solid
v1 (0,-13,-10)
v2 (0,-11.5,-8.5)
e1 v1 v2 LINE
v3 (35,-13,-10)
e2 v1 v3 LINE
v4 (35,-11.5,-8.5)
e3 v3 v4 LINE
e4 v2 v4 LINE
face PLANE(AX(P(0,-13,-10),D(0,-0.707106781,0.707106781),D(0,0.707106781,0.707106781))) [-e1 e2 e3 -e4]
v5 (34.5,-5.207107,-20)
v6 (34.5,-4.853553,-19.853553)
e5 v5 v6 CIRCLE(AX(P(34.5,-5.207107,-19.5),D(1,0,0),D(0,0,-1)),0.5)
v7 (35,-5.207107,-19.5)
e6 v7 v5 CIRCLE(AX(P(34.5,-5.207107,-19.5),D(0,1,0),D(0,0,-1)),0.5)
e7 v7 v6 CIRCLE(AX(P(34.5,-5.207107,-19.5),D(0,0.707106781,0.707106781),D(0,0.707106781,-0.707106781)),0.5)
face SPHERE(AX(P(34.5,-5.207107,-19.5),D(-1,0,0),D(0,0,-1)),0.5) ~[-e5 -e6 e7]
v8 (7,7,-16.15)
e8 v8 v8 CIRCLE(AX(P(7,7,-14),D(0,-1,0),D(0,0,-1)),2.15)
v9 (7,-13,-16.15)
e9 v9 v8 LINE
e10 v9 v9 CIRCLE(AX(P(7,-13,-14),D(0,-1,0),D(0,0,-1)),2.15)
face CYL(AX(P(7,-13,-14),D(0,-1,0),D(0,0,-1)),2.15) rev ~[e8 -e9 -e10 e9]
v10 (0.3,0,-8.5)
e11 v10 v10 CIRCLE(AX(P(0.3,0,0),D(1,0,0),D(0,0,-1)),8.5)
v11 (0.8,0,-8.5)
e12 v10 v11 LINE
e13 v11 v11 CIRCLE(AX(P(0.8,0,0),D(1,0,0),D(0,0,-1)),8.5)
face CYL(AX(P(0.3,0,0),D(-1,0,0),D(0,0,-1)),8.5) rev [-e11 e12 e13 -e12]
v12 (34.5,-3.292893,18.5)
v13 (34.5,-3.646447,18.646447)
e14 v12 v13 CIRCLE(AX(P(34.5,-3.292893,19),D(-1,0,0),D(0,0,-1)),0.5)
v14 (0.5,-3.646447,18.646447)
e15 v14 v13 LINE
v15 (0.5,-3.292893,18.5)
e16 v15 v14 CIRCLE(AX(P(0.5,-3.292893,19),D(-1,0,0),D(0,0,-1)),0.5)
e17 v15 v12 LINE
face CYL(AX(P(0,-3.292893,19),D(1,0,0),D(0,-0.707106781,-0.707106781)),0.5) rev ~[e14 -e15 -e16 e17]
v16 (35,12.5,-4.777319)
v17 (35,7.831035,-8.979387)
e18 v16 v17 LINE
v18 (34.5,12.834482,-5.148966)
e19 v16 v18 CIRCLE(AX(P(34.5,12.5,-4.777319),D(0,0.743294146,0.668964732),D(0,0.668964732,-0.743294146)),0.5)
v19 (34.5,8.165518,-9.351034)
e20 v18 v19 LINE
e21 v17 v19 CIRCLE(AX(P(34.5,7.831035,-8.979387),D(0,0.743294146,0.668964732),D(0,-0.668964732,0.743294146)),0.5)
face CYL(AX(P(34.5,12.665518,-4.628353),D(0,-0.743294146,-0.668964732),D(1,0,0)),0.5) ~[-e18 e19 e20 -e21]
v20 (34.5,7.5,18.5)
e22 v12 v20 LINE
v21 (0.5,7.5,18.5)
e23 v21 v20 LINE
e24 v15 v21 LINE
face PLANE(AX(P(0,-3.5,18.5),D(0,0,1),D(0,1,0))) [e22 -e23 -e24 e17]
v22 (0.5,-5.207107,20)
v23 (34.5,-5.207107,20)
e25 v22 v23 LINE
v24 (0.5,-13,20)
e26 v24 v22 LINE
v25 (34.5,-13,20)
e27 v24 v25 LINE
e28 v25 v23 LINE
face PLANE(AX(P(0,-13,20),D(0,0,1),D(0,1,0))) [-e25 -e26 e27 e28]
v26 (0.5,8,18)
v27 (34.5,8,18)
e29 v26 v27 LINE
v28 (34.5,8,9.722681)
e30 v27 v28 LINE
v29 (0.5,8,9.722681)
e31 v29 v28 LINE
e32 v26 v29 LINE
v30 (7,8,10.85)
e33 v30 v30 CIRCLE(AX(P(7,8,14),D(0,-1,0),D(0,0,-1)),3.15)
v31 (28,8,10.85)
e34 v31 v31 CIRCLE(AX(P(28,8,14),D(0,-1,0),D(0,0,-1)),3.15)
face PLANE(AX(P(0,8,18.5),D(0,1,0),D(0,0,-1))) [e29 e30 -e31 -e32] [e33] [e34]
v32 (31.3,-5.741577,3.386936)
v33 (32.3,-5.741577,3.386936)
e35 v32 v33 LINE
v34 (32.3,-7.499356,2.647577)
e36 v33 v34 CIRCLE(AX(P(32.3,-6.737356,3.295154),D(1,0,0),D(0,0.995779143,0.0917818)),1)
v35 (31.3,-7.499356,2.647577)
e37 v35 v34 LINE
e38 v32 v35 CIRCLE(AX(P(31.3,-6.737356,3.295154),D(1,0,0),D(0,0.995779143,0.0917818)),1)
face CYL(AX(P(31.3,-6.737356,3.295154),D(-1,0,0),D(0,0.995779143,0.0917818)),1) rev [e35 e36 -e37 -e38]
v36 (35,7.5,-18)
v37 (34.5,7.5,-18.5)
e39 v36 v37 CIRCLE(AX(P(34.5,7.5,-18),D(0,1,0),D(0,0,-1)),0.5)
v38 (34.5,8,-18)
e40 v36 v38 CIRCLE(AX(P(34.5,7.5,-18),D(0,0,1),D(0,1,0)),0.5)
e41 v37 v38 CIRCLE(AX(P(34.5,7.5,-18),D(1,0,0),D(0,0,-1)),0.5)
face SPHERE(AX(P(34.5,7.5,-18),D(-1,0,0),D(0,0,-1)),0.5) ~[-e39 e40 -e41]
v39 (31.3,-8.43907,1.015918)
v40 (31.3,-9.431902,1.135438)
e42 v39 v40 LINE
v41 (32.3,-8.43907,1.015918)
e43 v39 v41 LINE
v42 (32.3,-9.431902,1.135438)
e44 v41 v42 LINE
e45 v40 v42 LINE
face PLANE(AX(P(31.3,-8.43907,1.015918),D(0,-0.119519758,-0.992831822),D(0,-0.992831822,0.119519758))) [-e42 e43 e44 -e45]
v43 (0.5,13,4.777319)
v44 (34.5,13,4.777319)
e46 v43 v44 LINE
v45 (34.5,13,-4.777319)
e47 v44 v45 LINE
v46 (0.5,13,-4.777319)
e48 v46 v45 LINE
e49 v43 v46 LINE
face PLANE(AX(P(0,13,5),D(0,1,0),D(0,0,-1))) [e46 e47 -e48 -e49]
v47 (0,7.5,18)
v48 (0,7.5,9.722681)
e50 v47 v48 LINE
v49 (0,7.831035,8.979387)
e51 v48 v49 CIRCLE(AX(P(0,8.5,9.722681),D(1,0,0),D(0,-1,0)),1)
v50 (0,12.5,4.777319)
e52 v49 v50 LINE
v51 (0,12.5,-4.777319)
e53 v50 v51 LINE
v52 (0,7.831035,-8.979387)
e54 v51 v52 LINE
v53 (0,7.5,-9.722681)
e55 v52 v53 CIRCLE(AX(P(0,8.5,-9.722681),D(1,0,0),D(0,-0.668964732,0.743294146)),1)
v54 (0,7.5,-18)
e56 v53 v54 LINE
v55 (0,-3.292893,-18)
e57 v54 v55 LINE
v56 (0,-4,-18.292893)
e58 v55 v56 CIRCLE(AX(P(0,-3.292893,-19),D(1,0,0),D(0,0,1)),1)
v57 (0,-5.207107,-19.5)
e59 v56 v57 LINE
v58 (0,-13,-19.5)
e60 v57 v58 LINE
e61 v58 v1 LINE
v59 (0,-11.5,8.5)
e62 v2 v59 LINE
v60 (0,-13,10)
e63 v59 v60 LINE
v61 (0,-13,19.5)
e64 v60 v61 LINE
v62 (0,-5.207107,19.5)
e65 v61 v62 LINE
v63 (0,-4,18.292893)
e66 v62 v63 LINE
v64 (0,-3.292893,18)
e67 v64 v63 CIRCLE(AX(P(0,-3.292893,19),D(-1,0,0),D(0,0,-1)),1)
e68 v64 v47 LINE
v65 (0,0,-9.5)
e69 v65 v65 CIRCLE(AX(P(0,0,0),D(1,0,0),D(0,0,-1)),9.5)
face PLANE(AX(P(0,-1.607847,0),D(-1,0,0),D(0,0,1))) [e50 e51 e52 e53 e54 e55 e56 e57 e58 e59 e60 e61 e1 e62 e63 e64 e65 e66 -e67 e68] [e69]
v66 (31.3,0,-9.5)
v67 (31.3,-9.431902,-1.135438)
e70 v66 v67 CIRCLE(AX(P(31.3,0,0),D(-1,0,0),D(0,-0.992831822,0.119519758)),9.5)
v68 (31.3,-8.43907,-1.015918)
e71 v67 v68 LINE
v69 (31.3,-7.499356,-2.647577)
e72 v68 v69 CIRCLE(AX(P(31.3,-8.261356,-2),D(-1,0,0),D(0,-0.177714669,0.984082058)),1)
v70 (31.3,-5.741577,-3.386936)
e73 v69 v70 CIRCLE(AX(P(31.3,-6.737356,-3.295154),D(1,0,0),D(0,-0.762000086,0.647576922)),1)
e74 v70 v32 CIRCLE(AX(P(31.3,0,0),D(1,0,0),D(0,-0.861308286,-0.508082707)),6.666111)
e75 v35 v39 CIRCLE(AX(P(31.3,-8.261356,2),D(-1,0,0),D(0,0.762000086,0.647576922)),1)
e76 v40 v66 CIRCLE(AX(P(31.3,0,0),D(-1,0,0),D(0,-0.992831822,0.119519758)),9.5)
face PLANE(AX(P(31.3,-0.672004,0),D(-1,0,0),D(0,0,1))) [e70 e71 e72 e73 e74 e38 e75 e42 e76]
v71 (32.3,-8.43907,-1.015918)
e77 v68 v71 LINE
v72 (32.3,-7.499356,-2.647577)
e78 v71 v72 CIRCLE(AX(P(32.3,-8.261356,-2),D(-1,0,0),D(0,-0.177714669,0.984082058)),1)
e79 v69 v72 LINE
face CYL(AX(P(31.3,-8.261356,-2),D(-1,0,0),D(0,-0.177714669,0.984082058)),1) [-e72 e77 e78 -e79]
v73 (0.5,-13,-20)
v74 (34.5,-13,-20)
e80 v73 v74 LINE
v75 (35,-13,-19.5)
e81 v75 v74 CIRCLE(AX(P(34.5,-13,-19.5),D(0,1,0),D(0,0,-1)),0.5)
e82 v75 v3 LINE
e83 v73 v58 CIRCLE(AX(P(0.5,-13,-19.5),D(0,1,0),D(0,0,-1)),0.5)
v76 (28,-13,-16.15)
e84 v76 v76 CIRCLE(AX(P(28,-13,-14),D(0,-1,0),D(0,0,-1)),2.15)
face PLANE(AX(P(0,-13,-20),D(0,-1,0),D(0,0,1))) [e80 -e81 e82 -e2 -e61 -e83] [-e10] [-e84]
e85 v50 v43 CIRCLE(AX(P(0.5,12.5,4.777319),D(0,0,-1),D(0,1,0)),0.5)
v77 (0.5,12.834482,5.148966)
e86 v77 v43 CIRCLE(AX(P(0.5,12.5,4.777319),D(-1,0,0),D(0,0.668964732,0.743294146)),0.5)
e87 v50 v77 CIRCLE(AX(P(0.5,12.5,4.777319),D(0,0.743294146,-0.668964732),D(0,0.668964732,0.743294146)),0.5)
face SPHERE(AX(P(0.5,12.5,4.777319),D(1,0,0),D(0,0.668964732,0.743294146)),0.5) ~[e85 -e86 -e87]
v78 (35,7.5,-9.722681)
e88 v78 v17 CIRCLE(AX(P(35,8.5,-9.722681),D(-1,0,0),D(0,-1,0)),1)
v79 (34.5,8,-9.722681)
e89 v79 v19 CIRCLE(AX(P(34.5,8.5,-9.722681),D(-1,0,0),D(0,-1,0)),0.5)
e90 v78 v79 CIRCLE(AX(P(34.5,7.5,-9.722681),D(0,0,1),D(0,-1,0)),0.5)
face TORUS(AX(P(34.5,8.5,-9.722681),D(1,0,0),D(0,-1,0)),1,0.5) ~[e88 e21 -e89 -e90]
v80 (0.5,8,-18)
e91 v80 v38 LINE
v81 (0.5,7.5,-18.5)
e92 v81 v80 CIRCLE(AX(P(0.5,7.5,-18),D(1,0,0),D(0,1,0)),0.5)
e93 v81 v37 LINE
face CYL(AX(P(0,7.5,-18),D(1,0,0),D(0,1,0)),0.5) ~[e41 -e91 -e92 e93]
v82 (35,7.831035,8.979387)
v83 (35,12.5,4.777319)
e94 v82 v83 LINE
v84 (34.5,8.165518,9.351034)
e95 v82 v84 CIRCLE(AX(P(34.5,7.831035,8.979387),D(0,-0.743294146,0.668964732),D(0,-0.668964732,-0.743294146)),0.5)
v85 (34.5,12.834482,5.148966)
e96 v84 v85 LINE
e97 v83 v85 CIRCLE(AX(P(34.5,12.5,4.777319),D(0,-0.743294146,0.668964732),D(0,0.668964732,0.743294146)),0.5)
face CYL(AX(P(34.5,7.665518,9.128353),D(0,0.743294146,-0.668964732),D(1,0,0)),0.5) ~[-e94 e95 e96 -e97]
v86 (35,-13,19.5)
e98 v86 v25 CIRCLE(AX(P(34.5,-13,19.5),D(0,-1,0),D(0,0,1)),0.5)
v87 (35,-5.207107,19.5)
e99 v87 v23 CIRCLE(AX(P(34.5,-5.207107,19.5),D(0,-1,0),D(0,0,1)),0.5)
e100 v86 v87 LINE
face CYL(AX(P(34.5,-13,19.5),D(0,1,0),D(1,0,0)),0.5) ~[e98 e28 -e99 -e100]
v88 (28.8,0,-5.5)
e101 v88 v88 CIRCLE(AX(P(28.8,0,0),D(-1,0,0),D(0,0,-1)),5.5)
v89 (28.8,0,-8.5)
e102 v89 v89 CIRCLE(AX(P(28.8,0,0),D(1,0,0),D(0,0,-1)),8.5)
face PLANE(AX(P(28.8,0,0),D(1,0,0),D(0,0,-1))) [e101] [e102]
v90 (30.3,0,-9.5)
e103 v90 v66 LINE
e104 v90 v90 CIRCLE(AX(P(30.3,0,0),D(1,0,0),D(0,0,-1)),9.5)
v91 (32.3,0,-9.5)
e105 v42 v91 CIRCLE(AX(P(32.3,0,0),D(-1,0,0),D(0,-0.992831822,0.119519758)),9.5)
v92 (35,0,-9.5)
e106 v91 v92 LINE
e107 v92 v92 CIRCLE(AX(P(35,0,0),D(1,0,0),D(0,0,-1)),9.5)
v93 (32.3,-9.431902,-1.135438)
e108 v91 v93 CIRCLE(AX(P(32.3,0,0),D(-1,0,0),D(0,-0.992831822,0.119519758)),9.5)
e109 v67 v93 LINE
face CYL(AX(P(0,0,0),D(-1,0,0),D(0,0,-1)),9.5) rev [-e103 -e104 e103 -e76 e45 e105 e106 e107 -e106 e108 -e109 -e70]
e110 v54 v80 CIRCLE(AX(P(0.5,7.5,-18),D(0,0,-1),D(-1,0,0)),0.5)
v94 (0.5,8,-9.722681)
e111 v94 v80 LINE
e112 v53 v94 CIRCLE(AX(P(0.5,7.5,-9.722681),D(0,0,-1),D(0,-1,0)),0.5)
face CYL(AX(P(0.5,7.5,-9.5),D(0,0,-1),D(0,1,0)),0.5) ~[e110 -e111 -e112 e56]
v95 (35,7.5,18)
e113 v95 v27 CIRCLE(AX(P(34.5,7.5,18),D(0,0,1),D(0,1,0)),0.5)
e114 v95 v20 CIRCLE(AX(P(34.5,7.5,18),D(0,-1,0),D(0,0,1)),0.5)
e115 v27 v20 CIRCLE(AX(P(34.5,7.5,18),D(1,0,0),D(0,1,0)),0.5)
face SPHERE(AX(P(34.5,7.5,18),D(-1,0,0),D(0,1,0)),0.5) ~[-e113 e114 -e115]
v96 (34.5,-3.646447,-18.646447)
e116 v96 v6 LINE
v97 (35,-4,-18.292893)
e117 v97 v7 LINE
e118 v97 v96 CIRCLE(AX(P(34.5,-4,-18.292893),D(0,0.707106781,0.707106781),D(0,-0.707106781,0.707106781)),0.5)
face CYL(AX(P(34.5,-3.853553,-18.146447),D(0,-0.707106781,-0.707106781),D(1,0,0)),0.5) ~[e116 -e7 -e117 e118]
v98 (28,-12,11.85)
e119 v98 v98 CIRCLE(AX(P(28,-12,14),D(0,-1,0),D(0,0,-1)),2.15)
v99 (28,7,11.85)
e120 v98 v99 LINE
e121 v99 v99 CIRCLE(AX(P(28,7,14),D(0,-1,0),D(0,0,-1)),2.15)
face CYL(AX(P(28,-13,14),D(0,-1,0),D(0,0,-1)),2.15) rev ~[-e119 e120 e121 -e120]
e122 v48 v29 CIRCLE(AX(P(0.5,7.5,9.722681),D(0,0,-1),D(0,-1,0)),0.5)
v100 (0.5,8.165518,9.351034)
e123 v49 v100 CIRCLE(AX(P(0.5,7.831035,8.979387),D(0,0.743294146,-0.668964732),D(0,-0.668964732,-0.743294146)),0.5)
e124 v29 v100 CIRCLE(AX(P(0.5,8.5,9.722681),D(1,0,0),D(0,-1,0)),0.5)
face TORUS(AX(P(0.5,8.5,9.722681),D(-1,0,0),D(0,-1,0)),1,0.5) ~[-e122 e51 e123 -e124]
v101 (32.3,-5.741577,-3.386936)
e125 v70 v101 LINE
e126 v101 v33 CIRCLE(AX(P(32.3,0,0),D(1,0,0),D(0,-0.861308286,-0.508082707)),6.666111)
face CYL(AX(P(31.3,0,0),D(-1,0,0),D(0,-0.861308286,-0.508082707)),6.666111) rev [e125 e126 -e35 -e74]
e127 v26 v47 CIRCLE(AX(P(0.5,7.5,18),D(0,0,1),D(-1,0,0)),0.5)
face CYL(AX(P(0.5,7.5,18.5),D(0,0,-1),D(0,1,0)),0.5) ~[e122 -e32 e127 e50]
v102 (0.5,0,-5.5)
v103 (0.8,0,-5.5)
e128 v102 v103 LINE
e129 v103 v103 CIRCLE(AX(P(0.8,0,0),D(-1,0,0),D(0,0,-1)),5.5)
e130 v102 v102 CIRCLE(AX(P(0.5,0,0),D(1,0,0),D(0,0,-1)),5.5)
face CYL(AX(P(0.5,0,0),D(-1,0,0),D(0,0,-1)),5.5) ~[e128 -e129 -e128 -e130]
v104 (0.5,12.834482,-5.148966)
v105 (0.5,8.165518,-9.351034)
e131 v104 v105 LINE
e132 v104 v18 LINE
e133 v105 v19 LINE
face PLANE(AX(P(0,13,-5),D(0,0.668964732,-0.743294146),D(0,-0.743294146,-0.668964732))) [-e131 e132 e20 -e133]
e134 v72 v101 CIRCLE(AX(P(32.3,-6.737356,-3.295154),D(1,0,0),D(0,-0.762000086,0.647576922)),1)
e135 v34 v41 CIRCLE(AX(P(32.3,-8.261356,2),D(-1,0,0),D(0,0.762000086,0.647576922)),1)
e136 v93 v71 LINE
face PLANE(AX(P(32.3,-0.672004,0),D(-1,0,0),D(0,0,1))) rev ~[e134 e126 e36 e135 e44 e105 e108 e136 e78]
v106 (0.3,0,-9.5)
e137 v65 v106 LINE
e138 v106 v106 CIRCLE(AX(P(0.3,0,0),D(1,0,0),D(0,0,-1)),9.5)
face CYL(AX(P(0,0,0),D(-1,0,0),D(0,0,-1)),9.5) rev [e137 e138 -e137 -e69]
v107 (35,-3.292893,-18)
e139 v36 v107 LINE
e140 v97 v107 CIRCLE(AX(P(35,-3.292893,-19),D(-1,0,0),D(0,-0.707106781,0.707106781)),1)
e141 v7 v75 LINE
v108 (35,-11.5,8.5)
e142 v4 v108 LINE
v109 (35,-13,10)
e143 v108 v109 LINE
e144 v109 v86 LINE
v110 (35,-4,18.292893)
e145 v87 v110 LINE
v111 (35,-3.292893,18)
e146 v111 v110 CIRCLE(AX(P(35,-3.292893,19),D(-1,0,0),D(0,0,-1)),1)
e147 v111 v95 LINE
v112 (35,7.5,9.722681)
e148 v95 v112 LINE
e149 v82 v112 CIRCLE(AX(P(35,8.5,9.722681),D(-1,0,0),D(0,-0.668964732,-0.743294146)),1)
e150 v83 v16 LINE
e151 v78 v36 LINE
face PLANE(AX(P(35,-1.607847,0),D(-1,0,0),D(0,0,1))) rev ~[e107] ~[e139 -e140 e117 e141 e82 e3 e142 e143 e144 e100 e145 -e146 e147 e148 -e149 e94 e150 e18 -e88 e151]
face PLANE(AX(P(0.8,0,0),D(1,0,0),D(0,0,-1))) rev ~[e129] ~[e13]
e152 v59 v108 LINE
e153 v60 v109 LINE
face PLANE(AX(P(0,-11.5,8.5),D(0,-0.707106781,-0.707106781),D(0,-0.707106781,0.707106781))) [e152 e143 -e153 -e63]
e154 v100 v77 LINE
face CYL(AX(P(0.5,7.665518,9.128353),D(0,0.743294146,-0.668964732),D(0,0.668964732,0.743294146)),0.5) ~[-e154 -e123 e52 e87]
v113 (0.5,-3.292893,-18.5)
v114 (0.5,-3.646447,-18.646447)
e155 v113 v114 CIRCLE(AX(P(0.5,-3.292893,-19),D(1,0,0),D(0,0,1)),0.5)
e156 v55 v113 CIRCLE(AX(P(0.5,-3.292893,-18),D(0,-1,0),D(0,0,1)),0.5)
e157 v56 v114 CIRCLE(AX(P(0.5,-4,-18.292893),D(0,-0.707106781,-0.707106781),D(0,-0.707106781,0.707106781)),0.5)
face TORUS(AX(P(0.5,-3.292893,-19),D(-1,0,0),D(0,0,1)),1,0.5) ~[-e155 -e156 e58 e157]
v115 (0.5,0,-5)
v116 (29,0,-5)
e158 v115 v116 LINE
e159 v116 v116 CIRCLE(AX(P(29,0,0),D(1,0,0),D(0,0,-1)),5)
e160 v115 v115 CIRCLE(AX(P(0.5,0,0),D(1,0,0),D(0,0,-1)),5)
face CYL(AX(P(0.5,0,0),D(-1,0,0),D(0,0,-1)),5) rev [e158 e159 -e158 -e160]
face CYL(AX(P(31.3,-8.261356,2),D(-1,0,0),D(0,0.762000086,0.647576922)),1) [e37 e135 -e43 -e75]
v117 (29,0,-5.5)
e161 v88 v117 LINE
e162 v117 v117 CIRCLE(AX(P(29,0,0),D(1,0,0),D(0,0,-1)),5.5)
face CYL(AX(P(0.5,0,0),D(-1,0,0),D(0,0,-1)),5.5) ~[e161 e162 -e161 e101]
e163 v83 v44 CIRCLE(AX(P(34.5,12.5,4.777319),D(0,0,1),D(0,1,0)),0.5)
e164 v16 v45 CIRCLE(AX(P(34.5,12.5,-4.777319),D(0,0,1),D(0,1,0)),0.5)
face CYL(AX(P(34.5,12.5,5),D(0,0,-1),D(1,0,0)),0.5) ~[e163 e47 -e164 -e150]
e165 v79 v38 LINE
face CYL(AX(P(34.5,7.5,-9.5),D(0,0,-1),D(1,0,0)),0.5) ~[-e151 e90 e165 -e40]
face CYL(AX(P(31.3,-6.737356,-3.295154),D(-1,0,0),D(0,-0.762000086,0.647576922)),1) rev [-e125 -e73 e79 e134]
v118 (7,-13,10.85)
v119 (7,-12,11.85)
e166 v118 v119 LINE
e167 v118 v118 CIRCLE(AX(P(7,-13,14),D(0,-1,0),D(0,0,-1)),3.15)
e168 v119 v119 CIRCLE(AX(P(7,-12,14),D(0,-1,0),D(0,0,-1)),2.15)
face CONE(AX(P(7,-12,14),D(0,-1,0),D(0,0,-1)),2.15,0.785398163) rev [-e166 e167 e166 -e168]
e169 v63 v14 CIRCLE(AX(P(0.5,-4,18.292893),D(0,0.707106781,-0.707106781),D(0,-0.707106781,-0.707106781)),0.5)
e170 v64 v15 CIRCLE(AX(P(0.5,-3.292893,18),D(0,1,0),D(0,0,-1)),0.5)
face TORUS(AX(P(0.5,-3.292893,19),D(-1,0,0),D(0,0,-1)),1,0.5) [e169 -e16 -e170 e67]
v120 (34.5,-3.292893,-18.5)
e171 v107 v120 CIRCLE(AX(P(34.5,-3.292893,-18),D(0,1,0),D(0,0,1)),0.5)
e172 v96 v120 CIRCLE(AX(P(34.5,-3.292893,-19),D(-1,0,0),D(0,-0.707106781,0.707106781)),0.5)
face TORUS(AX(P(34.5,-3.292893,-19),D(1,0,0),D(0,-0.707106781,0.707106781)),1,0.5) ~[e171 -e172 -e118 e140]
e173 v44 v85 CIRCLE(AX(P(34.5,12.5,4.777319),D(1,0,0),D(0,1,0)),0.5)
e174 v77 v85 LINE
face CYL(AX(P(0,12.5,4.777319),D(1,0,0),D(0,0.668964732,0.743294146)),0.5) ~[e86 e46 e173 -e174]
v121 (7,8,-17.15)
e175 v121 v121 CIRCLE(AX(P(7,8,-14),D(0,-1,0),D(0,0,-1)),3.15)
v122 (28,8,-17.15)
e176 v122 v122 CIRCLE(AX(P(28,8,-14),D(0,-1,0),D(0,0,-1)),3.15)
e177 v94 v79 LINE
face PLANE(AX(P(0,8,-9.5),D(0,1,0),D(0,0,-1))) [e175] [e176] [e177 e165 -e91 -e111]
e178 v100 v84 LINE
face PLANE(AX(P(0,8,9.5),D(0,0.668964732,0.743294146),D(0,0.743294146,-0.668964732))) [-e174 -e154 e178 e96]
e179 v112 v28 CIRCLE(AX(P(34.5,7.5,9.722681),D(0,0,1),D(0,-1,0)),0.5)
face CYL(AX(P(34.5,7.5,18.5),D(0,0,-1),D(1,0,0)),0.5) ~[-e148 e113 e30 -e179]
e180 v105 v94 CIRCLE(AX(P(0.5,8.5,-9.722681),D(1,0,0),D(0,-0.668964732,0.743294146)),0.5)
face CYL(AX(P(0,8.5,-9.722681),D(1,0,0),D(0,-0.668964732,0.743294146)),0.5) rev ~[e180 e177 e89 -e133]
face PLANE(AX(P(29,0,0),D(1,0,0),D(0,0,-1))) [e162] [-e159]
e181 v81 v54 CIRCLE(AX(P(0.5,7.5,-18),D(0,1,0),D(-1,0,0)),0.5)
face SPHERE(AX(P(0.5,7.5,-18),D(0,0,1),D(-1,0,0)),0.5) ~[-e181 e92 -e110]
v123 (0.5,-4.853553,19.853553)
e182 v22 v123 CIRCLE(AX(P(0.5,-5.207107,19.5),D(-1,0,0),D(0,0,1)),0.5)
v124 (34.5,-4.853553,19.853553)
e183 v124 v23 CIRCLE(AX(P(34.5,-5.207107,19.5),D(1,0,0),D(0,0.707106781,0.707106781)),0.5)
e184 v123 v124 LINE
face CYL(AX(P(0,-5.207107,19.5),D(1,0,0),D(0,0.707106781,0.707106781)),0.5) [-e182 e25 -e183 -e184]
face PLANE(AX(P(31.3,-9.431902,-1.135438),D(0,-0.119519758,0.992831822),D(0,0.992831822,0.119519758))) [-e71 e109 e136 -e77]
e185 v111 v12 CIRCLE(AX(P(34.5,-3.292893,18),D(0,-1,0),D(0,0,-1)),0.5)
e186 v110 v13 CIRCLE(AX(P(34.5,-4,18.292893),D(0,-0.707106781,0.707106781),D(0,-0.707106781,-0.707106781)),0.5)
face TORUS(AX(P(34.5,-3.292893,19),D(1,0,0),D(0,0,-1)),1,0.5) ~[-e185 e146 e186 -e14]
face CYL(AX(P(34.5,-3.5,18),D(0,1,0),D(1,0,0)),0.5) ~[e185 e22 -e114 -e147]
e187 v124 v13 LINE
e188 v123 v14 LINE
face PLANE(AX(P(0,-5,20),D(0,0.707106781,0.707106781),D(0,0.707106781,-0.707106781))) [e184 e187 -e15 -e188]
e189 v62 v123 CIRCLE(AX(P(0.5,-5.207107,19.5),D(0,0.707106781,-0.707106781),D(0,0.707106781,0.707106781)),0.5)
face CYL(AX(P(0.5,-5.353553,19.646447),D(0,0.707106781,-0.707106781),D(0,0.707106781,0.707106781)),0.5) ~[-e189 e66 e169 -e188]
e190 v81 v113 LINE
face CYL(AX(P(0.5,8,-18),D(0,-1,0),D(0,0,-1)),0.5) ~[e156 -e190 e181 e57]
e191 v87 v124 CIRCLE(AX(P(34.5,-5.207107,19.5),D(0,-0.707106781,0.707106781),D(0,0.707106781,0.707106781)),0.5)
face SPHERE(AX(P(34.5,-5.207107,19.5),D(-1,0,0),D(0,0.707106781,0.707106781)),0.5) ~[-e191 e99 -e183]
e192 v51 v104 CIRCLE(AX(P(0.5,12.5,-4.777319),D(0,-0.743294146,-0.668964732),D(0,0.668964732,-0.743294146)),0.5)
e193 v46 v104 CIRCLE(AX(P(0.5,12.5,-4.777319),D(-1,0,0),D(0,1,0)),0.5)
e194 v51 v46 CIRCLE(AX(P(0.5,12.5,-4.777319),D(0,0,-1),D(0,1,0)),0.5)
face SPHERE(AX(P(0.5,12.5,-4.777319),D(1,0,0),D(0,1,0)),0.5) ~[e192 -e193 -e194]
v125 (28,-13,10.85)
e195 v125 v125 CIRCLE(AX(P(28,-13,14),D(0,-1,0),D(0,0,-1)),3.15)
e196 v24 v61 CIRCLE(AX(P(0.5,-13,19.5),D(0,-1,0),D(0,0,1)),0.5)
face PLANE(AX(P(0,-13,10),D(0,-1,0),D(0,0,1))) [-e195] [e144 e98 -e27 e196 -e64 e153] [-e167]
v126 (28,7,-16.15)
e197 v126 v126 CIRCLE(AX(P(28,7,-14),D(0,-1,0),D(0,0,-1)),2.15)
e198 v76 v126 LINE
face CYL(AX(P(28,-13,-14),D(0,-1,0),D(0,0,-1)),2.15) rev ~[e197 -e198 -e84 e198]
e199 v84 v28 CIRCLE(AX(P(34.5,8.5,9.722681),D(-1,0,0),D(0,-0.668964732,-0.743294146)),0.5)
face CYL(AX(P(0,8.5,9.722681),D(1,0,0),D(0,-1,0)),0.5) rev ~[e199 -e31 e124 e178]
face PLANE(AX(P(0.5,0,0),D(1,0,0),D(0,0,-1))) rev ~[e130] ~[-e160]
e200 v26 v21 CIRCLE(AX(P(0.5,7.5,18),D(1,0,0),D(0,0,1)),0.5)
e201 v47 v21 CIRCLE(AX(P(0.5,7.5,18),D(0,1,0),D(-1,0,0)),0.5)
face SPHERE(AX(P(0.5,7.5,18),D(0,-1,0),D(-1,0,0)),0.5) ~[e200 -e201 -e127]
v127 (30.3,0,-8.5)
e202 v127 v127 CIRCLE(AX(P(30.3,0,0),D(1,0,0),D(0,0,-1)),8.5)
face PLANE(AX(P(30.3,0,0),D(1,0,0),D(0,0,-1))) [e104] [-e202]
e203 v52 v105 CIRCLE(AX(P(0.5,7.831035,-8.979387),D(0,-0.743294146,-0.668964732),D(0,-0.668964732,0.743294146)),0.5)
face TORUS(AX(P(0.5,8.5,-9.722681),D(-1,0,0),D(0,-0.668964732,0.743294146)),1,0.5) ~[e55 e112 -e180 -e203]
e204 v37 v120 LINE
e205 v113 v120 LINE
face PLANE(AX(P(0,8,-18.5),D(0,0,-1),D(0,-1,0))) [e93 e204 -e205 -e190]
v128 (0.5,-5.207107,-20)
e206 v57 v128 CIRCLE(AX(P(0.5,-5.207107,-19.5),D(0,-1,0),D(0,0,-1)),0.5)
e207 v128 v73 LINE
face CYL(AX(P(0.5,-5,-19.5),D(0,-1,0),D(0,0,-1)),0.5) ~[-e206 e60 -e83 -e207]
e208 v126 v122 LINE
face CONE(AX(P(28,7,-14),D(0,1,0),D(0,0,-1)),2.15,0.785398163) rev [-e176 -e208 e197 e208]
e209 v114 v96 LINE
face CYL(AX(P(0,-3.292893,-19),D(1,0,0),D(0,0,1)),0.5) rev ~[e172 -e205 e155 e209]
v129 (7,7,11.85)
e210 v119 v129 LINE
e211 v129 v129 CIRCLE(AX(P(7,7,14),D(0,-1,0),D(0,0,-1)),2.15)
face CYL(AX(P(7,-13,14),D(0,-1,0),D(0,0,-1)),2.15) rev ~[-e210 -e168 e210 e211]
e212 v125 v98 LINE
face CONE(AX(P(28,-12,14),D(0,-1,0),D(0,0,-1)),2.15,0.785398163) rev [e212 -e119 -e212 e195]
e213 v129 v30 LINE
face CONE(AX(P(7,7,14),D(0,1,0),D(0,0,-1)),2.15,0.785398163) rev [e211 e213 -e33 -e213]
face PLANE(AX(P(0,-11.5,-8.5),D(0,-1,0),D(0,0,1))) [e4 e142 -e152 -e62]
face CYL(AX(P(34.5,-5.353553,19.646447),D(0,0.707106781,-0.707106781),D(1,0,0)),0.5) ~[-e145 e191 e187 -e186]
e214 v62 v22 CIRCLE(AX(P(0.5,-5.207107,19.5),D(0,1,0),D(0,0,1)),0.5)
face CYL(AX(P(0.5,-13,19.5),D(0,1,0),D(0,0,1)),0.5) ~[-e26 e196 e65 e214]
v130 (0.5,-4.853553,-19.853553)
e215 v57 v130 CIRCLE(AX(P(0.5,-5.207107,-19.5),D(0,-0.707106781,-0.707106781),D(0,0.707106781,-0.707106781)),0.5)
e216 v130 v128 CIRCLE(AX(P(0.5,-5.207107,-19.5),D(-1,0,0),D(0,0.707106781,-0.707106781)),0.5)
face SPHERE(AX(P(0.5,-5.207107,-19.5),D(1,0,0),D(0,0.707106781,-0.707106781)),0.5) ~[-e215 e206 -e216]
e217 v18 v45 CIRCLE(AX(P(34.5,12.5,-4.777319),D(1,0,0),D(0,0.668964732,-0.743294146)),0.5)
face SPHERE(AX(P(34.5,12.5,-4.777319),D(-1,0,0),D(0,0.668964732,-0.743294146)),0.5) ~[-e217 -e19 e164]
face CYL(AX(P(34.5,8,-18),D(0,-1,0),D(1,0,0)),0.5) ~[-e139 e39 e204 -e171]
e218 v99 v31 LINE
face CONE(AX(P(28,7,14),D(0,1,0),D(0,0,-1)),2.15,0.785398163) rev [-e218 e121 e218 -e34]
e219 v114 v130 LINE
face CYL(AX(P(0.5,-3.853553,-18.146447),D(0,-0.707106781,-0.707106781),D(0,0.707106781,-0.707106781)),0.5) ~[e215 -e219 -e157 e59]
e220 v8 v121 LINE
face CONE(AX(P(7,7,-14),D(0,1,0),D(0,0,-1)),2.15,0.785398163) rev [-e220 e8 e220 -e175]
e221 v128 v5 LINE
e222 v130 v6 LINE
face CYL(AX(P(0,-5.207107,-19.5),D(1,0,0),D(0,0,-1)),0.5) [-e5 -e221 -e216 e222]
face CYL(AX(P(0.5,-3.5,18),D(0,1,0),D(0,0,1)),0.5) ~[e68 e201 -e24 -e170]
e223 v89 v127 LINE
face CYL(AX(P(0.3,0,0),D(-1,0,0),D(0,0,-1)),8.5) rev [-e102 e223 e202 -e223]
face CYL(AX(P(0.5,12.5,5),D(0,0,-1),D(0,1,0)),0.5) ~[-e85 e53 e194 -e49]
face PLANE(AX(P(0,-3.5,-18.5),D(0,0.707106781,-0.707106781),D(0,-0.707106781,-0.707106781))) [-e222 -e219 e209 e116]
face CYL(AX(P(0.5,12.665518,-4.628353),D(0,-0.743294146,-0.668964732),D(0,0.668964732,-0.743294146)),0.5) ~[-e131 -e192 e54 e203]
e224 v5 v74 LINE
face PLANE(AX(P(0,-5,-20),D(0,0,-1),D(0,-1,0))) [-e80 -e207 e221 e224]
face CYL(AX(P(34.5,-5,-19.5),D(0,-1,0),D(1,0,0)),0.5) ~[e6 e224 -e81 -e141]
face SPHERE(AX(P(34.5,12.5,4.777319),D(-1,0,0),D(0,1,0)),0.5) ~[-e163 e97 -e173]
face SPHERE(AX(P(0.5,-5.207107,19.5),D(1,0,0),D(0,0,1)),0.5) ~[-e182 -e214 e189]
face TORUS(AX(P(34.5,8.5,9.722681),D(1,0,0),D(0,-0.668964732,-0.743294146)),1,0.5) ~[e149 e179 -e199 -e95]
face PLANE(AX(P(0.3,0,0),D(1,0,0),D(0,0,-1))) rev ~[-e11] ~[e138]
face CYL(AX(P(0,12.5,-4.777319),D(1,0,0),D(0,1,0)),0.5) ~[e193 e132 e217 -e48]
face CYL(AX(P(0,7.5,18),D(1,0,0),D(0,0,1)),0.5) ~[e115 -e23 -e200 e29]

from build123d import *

# Parameters (mm, degrees)
SKETCH1_R           = 9.5
BOSS_EXTRUDE1_DEPTH = 35
EXTRUDE_THIN1_START = 0.5
SKETCH1_4_R         = 5.5
SKETCH1_4_R_2       = 5
EXTRUDE_THIN1_DEPTH = 28.5
BOSS_EXTRUDE2_START = 0.8
SKETCH1_5_R         = 8.5
SKETCH1_5_R_2       = 5
BOSS_EXTRUDE2_DEPTH = 28
BOSS_EXTRUDE3_START = 0.3
SKETCH1_6_R         = 9.5
SKETCH1_6_R_2       = 8.5
BOSS_EXTRUDE3_DEPTH = 30
BOSS_EXTRUDE4_START = 1
BOSS_EXTRUDE4_DEPTH = 1
FILLET1_R           = 0.5
SKETCH4_R           = 2.15
CUT_EXTRUDE3_DEPTH  = 48.968739894
CHAMFER1_SIZE       = 1


with BuildPart() as part:
    # Sketch1 → Boss-Extrude1 (new body)
    with BuildSketch(Plane(origin=(0, 0, 0), x_dir=(0, 0, -1), z_dir=(1, 0, 0))):
        Polygon((-20, -13), (-10, -13), (-8.5, -11.5), (8.5, -11.5), (10, -13), (20, -13), (20, -5), (18.5, -3.5), (18.5, 8), (9.5, 8), (5, 13), (-5, 13), (-9.5, 8), (-18.5, 8), (-18.5, -3.5), (-20, -5), align=None)
        Circle(SKETCH1_R, mode=Mode.SUBTRACT)
    extrude(amount=BOSS_EXTRUDE1_DEPTH)



with BuildPart() as body_2:
    # Sketch1<4> → Extrude-Thin1 (new body)
    with BuildSketch(Plane(origin=(0, 0, 0), x_dir=(0, 0, -1), z_dir=(1, 0, 0)).offset(EXTRUDE_THIN1_START)):
        Circle(SKETCH1_4_R)
        Circle(SKETCH1_4_R_2, mode=Mode.SUBTRACT)
    extrude(amount=EXTRUDE_THIN1_DEPTH)

    # Sketch1<5> → Boss-Extrude2 (add)
    with BuildSketch(Plane(origin=(0, 0, 0), x_dir=(0, 0, -1), z_dir=(1, 0, 0)).offset(BOSS_EXTRUDE2_START)):
        Circle(SKETCH1_5_R)
        Circle(SKETCH1_5_R_2, mode=Mode.SUBTRACT)
    extrude(amount=BOSS_EXTRUDE2_DEPTH)


with BuildPart() as part_1:
    add(part.part)

    add(body_2.part)  # Boss-Extrude3 merges body 2
    # Sketch1<6> → Boss-Extrude3 (add)
    with BuildSketch(Plane(origin=(0, 0, 0), x_dir=(0, 0, -1), z_dir=(1, 0, 0)).offset(BOSS_EXTRUDE3_START)):
        Circle(SKETCH1_6_R)
        Circle(SKETCH1_6_R_2, mode=Mode.SUBTRACT)
    extrude(amount=BOSS_EXTRUDE3_DEPTH)

    # Sketch3 → Boss-Extrude4 (add)
    with BuildSketch(Plane(origin=(30.3, 0, 0), x_dir=(0, 0, -1), z_dir=(1, 0, 0)).offset(BOSS_EXTRUDE4_START)):
        with BuildLine():
            Line((-1.015917942, -8.43907049), (-1.1354377, -9.431902312))
            ThreePointArc((-1.1354377, -9.431902312), (0, 9.5), (1.1354377, -9.431902312))
            Line((1.1354377, -9.431902312), (1.015917942, -8.43907049))
            ThreePointArc((1.015917942, -8.43907049), (1.500925976, -7.394796464), (2.647576922, -7.499355735))
            ThreePointArc((2.647576922, -7.499355735), (4.216931478, -7.125074609), (3.386935643, -5.741576507))
            ThreePointArc((3.386935643, -5.741576507), (0, 6.666110848), (-3.386935643, -5.741576507))
            ThreePointArc((-3.386935643, -5.741576507), (-4.216931478, -7.125074609), (-2.647576922, -7.499355735))
            ThreePointArc((-2.647576922, -7.499355735), (-1.500925976, -7.394796464), (-1.015917942, -8.43907049))
        make_face()
    extrude(amount=BOSS_EXTRUDE4_DEPTH)

    # Fillet1
    fillet1_edges = [part_1.edges().sort_by_distance(p)[0] for p in [
        (17.5, -3.5, -18.5),
        (17.5, -3.5, 18.5),
        (17.5, -5, 20),
        (17.5, -5, -20),
        (17.5, 8, -9.5),
        (17.5, 8, 9.5),
        (17.5, 13, 5),
        (17.5, 13, -5),
        (17.5, 8, -18.5),
        (17.5, 8, 18.5),
        (35, 10.5, -7.25),
        (35, 10.5, 7.25),
        (35, 2.25, 18.5),
        (0, -4.25, 19.25),
        (0, 10.5, 7.25),
        (35, -4.25, -19.25),
        (35, -9, -20),
        (35, 2.25, -18.5),
        (35, 13, 0),
        (35, 8, -14),
        (35, 8, 14),
        (35, -4.25, 19.25),
        (35, -9, 20),
        (0, -9, -20),
        (0, -4.25, -19.25),
        (0, 2.25, -18.5),
        (0, 10.5, -7.25),
        (0, 8, -14),
        (0, 13, 0),
        (0, -9, 20),
        (0, 2.25, 18.5),
        (0, 8, 14),
    ]]
    fillet(fillet1_edges, radius=FILLET1_R)

    # Sketch4 → Cut-Extrude3 (cut, through all)
    with BuildSketch(Plane.XZ.offset(13)):
        with Locations((7, 14)):
            Circle(SKETCH4_R)
        with Locations((28, 14)):
            Circle(SKETCH4_R)
        with Locations((28, -14)):
            Circle(SKETCH4_R)
        with Locations((7, -14)):
            Circle(SKETCH4_R)
    extrude(amount=-CUT_EXTRUDE3_DEPTH, mode=Mode.SUBTRACT)

    # Chamfer1
    chamfer1_edges = [part_1.edges().sort_by_distance(p)[0] for p in [
        (25.85, 8, -14),
        (4.85, 8, -14),
        (4.85, 8, 14),
        (25.85, 8, 14),
        (25.85, -13, 14),
        (4.85, -13, 14),
    ]]
    chamfer(chamfer1_edges, length=CHAMFER1_SIZE)


solid = part_1.part
